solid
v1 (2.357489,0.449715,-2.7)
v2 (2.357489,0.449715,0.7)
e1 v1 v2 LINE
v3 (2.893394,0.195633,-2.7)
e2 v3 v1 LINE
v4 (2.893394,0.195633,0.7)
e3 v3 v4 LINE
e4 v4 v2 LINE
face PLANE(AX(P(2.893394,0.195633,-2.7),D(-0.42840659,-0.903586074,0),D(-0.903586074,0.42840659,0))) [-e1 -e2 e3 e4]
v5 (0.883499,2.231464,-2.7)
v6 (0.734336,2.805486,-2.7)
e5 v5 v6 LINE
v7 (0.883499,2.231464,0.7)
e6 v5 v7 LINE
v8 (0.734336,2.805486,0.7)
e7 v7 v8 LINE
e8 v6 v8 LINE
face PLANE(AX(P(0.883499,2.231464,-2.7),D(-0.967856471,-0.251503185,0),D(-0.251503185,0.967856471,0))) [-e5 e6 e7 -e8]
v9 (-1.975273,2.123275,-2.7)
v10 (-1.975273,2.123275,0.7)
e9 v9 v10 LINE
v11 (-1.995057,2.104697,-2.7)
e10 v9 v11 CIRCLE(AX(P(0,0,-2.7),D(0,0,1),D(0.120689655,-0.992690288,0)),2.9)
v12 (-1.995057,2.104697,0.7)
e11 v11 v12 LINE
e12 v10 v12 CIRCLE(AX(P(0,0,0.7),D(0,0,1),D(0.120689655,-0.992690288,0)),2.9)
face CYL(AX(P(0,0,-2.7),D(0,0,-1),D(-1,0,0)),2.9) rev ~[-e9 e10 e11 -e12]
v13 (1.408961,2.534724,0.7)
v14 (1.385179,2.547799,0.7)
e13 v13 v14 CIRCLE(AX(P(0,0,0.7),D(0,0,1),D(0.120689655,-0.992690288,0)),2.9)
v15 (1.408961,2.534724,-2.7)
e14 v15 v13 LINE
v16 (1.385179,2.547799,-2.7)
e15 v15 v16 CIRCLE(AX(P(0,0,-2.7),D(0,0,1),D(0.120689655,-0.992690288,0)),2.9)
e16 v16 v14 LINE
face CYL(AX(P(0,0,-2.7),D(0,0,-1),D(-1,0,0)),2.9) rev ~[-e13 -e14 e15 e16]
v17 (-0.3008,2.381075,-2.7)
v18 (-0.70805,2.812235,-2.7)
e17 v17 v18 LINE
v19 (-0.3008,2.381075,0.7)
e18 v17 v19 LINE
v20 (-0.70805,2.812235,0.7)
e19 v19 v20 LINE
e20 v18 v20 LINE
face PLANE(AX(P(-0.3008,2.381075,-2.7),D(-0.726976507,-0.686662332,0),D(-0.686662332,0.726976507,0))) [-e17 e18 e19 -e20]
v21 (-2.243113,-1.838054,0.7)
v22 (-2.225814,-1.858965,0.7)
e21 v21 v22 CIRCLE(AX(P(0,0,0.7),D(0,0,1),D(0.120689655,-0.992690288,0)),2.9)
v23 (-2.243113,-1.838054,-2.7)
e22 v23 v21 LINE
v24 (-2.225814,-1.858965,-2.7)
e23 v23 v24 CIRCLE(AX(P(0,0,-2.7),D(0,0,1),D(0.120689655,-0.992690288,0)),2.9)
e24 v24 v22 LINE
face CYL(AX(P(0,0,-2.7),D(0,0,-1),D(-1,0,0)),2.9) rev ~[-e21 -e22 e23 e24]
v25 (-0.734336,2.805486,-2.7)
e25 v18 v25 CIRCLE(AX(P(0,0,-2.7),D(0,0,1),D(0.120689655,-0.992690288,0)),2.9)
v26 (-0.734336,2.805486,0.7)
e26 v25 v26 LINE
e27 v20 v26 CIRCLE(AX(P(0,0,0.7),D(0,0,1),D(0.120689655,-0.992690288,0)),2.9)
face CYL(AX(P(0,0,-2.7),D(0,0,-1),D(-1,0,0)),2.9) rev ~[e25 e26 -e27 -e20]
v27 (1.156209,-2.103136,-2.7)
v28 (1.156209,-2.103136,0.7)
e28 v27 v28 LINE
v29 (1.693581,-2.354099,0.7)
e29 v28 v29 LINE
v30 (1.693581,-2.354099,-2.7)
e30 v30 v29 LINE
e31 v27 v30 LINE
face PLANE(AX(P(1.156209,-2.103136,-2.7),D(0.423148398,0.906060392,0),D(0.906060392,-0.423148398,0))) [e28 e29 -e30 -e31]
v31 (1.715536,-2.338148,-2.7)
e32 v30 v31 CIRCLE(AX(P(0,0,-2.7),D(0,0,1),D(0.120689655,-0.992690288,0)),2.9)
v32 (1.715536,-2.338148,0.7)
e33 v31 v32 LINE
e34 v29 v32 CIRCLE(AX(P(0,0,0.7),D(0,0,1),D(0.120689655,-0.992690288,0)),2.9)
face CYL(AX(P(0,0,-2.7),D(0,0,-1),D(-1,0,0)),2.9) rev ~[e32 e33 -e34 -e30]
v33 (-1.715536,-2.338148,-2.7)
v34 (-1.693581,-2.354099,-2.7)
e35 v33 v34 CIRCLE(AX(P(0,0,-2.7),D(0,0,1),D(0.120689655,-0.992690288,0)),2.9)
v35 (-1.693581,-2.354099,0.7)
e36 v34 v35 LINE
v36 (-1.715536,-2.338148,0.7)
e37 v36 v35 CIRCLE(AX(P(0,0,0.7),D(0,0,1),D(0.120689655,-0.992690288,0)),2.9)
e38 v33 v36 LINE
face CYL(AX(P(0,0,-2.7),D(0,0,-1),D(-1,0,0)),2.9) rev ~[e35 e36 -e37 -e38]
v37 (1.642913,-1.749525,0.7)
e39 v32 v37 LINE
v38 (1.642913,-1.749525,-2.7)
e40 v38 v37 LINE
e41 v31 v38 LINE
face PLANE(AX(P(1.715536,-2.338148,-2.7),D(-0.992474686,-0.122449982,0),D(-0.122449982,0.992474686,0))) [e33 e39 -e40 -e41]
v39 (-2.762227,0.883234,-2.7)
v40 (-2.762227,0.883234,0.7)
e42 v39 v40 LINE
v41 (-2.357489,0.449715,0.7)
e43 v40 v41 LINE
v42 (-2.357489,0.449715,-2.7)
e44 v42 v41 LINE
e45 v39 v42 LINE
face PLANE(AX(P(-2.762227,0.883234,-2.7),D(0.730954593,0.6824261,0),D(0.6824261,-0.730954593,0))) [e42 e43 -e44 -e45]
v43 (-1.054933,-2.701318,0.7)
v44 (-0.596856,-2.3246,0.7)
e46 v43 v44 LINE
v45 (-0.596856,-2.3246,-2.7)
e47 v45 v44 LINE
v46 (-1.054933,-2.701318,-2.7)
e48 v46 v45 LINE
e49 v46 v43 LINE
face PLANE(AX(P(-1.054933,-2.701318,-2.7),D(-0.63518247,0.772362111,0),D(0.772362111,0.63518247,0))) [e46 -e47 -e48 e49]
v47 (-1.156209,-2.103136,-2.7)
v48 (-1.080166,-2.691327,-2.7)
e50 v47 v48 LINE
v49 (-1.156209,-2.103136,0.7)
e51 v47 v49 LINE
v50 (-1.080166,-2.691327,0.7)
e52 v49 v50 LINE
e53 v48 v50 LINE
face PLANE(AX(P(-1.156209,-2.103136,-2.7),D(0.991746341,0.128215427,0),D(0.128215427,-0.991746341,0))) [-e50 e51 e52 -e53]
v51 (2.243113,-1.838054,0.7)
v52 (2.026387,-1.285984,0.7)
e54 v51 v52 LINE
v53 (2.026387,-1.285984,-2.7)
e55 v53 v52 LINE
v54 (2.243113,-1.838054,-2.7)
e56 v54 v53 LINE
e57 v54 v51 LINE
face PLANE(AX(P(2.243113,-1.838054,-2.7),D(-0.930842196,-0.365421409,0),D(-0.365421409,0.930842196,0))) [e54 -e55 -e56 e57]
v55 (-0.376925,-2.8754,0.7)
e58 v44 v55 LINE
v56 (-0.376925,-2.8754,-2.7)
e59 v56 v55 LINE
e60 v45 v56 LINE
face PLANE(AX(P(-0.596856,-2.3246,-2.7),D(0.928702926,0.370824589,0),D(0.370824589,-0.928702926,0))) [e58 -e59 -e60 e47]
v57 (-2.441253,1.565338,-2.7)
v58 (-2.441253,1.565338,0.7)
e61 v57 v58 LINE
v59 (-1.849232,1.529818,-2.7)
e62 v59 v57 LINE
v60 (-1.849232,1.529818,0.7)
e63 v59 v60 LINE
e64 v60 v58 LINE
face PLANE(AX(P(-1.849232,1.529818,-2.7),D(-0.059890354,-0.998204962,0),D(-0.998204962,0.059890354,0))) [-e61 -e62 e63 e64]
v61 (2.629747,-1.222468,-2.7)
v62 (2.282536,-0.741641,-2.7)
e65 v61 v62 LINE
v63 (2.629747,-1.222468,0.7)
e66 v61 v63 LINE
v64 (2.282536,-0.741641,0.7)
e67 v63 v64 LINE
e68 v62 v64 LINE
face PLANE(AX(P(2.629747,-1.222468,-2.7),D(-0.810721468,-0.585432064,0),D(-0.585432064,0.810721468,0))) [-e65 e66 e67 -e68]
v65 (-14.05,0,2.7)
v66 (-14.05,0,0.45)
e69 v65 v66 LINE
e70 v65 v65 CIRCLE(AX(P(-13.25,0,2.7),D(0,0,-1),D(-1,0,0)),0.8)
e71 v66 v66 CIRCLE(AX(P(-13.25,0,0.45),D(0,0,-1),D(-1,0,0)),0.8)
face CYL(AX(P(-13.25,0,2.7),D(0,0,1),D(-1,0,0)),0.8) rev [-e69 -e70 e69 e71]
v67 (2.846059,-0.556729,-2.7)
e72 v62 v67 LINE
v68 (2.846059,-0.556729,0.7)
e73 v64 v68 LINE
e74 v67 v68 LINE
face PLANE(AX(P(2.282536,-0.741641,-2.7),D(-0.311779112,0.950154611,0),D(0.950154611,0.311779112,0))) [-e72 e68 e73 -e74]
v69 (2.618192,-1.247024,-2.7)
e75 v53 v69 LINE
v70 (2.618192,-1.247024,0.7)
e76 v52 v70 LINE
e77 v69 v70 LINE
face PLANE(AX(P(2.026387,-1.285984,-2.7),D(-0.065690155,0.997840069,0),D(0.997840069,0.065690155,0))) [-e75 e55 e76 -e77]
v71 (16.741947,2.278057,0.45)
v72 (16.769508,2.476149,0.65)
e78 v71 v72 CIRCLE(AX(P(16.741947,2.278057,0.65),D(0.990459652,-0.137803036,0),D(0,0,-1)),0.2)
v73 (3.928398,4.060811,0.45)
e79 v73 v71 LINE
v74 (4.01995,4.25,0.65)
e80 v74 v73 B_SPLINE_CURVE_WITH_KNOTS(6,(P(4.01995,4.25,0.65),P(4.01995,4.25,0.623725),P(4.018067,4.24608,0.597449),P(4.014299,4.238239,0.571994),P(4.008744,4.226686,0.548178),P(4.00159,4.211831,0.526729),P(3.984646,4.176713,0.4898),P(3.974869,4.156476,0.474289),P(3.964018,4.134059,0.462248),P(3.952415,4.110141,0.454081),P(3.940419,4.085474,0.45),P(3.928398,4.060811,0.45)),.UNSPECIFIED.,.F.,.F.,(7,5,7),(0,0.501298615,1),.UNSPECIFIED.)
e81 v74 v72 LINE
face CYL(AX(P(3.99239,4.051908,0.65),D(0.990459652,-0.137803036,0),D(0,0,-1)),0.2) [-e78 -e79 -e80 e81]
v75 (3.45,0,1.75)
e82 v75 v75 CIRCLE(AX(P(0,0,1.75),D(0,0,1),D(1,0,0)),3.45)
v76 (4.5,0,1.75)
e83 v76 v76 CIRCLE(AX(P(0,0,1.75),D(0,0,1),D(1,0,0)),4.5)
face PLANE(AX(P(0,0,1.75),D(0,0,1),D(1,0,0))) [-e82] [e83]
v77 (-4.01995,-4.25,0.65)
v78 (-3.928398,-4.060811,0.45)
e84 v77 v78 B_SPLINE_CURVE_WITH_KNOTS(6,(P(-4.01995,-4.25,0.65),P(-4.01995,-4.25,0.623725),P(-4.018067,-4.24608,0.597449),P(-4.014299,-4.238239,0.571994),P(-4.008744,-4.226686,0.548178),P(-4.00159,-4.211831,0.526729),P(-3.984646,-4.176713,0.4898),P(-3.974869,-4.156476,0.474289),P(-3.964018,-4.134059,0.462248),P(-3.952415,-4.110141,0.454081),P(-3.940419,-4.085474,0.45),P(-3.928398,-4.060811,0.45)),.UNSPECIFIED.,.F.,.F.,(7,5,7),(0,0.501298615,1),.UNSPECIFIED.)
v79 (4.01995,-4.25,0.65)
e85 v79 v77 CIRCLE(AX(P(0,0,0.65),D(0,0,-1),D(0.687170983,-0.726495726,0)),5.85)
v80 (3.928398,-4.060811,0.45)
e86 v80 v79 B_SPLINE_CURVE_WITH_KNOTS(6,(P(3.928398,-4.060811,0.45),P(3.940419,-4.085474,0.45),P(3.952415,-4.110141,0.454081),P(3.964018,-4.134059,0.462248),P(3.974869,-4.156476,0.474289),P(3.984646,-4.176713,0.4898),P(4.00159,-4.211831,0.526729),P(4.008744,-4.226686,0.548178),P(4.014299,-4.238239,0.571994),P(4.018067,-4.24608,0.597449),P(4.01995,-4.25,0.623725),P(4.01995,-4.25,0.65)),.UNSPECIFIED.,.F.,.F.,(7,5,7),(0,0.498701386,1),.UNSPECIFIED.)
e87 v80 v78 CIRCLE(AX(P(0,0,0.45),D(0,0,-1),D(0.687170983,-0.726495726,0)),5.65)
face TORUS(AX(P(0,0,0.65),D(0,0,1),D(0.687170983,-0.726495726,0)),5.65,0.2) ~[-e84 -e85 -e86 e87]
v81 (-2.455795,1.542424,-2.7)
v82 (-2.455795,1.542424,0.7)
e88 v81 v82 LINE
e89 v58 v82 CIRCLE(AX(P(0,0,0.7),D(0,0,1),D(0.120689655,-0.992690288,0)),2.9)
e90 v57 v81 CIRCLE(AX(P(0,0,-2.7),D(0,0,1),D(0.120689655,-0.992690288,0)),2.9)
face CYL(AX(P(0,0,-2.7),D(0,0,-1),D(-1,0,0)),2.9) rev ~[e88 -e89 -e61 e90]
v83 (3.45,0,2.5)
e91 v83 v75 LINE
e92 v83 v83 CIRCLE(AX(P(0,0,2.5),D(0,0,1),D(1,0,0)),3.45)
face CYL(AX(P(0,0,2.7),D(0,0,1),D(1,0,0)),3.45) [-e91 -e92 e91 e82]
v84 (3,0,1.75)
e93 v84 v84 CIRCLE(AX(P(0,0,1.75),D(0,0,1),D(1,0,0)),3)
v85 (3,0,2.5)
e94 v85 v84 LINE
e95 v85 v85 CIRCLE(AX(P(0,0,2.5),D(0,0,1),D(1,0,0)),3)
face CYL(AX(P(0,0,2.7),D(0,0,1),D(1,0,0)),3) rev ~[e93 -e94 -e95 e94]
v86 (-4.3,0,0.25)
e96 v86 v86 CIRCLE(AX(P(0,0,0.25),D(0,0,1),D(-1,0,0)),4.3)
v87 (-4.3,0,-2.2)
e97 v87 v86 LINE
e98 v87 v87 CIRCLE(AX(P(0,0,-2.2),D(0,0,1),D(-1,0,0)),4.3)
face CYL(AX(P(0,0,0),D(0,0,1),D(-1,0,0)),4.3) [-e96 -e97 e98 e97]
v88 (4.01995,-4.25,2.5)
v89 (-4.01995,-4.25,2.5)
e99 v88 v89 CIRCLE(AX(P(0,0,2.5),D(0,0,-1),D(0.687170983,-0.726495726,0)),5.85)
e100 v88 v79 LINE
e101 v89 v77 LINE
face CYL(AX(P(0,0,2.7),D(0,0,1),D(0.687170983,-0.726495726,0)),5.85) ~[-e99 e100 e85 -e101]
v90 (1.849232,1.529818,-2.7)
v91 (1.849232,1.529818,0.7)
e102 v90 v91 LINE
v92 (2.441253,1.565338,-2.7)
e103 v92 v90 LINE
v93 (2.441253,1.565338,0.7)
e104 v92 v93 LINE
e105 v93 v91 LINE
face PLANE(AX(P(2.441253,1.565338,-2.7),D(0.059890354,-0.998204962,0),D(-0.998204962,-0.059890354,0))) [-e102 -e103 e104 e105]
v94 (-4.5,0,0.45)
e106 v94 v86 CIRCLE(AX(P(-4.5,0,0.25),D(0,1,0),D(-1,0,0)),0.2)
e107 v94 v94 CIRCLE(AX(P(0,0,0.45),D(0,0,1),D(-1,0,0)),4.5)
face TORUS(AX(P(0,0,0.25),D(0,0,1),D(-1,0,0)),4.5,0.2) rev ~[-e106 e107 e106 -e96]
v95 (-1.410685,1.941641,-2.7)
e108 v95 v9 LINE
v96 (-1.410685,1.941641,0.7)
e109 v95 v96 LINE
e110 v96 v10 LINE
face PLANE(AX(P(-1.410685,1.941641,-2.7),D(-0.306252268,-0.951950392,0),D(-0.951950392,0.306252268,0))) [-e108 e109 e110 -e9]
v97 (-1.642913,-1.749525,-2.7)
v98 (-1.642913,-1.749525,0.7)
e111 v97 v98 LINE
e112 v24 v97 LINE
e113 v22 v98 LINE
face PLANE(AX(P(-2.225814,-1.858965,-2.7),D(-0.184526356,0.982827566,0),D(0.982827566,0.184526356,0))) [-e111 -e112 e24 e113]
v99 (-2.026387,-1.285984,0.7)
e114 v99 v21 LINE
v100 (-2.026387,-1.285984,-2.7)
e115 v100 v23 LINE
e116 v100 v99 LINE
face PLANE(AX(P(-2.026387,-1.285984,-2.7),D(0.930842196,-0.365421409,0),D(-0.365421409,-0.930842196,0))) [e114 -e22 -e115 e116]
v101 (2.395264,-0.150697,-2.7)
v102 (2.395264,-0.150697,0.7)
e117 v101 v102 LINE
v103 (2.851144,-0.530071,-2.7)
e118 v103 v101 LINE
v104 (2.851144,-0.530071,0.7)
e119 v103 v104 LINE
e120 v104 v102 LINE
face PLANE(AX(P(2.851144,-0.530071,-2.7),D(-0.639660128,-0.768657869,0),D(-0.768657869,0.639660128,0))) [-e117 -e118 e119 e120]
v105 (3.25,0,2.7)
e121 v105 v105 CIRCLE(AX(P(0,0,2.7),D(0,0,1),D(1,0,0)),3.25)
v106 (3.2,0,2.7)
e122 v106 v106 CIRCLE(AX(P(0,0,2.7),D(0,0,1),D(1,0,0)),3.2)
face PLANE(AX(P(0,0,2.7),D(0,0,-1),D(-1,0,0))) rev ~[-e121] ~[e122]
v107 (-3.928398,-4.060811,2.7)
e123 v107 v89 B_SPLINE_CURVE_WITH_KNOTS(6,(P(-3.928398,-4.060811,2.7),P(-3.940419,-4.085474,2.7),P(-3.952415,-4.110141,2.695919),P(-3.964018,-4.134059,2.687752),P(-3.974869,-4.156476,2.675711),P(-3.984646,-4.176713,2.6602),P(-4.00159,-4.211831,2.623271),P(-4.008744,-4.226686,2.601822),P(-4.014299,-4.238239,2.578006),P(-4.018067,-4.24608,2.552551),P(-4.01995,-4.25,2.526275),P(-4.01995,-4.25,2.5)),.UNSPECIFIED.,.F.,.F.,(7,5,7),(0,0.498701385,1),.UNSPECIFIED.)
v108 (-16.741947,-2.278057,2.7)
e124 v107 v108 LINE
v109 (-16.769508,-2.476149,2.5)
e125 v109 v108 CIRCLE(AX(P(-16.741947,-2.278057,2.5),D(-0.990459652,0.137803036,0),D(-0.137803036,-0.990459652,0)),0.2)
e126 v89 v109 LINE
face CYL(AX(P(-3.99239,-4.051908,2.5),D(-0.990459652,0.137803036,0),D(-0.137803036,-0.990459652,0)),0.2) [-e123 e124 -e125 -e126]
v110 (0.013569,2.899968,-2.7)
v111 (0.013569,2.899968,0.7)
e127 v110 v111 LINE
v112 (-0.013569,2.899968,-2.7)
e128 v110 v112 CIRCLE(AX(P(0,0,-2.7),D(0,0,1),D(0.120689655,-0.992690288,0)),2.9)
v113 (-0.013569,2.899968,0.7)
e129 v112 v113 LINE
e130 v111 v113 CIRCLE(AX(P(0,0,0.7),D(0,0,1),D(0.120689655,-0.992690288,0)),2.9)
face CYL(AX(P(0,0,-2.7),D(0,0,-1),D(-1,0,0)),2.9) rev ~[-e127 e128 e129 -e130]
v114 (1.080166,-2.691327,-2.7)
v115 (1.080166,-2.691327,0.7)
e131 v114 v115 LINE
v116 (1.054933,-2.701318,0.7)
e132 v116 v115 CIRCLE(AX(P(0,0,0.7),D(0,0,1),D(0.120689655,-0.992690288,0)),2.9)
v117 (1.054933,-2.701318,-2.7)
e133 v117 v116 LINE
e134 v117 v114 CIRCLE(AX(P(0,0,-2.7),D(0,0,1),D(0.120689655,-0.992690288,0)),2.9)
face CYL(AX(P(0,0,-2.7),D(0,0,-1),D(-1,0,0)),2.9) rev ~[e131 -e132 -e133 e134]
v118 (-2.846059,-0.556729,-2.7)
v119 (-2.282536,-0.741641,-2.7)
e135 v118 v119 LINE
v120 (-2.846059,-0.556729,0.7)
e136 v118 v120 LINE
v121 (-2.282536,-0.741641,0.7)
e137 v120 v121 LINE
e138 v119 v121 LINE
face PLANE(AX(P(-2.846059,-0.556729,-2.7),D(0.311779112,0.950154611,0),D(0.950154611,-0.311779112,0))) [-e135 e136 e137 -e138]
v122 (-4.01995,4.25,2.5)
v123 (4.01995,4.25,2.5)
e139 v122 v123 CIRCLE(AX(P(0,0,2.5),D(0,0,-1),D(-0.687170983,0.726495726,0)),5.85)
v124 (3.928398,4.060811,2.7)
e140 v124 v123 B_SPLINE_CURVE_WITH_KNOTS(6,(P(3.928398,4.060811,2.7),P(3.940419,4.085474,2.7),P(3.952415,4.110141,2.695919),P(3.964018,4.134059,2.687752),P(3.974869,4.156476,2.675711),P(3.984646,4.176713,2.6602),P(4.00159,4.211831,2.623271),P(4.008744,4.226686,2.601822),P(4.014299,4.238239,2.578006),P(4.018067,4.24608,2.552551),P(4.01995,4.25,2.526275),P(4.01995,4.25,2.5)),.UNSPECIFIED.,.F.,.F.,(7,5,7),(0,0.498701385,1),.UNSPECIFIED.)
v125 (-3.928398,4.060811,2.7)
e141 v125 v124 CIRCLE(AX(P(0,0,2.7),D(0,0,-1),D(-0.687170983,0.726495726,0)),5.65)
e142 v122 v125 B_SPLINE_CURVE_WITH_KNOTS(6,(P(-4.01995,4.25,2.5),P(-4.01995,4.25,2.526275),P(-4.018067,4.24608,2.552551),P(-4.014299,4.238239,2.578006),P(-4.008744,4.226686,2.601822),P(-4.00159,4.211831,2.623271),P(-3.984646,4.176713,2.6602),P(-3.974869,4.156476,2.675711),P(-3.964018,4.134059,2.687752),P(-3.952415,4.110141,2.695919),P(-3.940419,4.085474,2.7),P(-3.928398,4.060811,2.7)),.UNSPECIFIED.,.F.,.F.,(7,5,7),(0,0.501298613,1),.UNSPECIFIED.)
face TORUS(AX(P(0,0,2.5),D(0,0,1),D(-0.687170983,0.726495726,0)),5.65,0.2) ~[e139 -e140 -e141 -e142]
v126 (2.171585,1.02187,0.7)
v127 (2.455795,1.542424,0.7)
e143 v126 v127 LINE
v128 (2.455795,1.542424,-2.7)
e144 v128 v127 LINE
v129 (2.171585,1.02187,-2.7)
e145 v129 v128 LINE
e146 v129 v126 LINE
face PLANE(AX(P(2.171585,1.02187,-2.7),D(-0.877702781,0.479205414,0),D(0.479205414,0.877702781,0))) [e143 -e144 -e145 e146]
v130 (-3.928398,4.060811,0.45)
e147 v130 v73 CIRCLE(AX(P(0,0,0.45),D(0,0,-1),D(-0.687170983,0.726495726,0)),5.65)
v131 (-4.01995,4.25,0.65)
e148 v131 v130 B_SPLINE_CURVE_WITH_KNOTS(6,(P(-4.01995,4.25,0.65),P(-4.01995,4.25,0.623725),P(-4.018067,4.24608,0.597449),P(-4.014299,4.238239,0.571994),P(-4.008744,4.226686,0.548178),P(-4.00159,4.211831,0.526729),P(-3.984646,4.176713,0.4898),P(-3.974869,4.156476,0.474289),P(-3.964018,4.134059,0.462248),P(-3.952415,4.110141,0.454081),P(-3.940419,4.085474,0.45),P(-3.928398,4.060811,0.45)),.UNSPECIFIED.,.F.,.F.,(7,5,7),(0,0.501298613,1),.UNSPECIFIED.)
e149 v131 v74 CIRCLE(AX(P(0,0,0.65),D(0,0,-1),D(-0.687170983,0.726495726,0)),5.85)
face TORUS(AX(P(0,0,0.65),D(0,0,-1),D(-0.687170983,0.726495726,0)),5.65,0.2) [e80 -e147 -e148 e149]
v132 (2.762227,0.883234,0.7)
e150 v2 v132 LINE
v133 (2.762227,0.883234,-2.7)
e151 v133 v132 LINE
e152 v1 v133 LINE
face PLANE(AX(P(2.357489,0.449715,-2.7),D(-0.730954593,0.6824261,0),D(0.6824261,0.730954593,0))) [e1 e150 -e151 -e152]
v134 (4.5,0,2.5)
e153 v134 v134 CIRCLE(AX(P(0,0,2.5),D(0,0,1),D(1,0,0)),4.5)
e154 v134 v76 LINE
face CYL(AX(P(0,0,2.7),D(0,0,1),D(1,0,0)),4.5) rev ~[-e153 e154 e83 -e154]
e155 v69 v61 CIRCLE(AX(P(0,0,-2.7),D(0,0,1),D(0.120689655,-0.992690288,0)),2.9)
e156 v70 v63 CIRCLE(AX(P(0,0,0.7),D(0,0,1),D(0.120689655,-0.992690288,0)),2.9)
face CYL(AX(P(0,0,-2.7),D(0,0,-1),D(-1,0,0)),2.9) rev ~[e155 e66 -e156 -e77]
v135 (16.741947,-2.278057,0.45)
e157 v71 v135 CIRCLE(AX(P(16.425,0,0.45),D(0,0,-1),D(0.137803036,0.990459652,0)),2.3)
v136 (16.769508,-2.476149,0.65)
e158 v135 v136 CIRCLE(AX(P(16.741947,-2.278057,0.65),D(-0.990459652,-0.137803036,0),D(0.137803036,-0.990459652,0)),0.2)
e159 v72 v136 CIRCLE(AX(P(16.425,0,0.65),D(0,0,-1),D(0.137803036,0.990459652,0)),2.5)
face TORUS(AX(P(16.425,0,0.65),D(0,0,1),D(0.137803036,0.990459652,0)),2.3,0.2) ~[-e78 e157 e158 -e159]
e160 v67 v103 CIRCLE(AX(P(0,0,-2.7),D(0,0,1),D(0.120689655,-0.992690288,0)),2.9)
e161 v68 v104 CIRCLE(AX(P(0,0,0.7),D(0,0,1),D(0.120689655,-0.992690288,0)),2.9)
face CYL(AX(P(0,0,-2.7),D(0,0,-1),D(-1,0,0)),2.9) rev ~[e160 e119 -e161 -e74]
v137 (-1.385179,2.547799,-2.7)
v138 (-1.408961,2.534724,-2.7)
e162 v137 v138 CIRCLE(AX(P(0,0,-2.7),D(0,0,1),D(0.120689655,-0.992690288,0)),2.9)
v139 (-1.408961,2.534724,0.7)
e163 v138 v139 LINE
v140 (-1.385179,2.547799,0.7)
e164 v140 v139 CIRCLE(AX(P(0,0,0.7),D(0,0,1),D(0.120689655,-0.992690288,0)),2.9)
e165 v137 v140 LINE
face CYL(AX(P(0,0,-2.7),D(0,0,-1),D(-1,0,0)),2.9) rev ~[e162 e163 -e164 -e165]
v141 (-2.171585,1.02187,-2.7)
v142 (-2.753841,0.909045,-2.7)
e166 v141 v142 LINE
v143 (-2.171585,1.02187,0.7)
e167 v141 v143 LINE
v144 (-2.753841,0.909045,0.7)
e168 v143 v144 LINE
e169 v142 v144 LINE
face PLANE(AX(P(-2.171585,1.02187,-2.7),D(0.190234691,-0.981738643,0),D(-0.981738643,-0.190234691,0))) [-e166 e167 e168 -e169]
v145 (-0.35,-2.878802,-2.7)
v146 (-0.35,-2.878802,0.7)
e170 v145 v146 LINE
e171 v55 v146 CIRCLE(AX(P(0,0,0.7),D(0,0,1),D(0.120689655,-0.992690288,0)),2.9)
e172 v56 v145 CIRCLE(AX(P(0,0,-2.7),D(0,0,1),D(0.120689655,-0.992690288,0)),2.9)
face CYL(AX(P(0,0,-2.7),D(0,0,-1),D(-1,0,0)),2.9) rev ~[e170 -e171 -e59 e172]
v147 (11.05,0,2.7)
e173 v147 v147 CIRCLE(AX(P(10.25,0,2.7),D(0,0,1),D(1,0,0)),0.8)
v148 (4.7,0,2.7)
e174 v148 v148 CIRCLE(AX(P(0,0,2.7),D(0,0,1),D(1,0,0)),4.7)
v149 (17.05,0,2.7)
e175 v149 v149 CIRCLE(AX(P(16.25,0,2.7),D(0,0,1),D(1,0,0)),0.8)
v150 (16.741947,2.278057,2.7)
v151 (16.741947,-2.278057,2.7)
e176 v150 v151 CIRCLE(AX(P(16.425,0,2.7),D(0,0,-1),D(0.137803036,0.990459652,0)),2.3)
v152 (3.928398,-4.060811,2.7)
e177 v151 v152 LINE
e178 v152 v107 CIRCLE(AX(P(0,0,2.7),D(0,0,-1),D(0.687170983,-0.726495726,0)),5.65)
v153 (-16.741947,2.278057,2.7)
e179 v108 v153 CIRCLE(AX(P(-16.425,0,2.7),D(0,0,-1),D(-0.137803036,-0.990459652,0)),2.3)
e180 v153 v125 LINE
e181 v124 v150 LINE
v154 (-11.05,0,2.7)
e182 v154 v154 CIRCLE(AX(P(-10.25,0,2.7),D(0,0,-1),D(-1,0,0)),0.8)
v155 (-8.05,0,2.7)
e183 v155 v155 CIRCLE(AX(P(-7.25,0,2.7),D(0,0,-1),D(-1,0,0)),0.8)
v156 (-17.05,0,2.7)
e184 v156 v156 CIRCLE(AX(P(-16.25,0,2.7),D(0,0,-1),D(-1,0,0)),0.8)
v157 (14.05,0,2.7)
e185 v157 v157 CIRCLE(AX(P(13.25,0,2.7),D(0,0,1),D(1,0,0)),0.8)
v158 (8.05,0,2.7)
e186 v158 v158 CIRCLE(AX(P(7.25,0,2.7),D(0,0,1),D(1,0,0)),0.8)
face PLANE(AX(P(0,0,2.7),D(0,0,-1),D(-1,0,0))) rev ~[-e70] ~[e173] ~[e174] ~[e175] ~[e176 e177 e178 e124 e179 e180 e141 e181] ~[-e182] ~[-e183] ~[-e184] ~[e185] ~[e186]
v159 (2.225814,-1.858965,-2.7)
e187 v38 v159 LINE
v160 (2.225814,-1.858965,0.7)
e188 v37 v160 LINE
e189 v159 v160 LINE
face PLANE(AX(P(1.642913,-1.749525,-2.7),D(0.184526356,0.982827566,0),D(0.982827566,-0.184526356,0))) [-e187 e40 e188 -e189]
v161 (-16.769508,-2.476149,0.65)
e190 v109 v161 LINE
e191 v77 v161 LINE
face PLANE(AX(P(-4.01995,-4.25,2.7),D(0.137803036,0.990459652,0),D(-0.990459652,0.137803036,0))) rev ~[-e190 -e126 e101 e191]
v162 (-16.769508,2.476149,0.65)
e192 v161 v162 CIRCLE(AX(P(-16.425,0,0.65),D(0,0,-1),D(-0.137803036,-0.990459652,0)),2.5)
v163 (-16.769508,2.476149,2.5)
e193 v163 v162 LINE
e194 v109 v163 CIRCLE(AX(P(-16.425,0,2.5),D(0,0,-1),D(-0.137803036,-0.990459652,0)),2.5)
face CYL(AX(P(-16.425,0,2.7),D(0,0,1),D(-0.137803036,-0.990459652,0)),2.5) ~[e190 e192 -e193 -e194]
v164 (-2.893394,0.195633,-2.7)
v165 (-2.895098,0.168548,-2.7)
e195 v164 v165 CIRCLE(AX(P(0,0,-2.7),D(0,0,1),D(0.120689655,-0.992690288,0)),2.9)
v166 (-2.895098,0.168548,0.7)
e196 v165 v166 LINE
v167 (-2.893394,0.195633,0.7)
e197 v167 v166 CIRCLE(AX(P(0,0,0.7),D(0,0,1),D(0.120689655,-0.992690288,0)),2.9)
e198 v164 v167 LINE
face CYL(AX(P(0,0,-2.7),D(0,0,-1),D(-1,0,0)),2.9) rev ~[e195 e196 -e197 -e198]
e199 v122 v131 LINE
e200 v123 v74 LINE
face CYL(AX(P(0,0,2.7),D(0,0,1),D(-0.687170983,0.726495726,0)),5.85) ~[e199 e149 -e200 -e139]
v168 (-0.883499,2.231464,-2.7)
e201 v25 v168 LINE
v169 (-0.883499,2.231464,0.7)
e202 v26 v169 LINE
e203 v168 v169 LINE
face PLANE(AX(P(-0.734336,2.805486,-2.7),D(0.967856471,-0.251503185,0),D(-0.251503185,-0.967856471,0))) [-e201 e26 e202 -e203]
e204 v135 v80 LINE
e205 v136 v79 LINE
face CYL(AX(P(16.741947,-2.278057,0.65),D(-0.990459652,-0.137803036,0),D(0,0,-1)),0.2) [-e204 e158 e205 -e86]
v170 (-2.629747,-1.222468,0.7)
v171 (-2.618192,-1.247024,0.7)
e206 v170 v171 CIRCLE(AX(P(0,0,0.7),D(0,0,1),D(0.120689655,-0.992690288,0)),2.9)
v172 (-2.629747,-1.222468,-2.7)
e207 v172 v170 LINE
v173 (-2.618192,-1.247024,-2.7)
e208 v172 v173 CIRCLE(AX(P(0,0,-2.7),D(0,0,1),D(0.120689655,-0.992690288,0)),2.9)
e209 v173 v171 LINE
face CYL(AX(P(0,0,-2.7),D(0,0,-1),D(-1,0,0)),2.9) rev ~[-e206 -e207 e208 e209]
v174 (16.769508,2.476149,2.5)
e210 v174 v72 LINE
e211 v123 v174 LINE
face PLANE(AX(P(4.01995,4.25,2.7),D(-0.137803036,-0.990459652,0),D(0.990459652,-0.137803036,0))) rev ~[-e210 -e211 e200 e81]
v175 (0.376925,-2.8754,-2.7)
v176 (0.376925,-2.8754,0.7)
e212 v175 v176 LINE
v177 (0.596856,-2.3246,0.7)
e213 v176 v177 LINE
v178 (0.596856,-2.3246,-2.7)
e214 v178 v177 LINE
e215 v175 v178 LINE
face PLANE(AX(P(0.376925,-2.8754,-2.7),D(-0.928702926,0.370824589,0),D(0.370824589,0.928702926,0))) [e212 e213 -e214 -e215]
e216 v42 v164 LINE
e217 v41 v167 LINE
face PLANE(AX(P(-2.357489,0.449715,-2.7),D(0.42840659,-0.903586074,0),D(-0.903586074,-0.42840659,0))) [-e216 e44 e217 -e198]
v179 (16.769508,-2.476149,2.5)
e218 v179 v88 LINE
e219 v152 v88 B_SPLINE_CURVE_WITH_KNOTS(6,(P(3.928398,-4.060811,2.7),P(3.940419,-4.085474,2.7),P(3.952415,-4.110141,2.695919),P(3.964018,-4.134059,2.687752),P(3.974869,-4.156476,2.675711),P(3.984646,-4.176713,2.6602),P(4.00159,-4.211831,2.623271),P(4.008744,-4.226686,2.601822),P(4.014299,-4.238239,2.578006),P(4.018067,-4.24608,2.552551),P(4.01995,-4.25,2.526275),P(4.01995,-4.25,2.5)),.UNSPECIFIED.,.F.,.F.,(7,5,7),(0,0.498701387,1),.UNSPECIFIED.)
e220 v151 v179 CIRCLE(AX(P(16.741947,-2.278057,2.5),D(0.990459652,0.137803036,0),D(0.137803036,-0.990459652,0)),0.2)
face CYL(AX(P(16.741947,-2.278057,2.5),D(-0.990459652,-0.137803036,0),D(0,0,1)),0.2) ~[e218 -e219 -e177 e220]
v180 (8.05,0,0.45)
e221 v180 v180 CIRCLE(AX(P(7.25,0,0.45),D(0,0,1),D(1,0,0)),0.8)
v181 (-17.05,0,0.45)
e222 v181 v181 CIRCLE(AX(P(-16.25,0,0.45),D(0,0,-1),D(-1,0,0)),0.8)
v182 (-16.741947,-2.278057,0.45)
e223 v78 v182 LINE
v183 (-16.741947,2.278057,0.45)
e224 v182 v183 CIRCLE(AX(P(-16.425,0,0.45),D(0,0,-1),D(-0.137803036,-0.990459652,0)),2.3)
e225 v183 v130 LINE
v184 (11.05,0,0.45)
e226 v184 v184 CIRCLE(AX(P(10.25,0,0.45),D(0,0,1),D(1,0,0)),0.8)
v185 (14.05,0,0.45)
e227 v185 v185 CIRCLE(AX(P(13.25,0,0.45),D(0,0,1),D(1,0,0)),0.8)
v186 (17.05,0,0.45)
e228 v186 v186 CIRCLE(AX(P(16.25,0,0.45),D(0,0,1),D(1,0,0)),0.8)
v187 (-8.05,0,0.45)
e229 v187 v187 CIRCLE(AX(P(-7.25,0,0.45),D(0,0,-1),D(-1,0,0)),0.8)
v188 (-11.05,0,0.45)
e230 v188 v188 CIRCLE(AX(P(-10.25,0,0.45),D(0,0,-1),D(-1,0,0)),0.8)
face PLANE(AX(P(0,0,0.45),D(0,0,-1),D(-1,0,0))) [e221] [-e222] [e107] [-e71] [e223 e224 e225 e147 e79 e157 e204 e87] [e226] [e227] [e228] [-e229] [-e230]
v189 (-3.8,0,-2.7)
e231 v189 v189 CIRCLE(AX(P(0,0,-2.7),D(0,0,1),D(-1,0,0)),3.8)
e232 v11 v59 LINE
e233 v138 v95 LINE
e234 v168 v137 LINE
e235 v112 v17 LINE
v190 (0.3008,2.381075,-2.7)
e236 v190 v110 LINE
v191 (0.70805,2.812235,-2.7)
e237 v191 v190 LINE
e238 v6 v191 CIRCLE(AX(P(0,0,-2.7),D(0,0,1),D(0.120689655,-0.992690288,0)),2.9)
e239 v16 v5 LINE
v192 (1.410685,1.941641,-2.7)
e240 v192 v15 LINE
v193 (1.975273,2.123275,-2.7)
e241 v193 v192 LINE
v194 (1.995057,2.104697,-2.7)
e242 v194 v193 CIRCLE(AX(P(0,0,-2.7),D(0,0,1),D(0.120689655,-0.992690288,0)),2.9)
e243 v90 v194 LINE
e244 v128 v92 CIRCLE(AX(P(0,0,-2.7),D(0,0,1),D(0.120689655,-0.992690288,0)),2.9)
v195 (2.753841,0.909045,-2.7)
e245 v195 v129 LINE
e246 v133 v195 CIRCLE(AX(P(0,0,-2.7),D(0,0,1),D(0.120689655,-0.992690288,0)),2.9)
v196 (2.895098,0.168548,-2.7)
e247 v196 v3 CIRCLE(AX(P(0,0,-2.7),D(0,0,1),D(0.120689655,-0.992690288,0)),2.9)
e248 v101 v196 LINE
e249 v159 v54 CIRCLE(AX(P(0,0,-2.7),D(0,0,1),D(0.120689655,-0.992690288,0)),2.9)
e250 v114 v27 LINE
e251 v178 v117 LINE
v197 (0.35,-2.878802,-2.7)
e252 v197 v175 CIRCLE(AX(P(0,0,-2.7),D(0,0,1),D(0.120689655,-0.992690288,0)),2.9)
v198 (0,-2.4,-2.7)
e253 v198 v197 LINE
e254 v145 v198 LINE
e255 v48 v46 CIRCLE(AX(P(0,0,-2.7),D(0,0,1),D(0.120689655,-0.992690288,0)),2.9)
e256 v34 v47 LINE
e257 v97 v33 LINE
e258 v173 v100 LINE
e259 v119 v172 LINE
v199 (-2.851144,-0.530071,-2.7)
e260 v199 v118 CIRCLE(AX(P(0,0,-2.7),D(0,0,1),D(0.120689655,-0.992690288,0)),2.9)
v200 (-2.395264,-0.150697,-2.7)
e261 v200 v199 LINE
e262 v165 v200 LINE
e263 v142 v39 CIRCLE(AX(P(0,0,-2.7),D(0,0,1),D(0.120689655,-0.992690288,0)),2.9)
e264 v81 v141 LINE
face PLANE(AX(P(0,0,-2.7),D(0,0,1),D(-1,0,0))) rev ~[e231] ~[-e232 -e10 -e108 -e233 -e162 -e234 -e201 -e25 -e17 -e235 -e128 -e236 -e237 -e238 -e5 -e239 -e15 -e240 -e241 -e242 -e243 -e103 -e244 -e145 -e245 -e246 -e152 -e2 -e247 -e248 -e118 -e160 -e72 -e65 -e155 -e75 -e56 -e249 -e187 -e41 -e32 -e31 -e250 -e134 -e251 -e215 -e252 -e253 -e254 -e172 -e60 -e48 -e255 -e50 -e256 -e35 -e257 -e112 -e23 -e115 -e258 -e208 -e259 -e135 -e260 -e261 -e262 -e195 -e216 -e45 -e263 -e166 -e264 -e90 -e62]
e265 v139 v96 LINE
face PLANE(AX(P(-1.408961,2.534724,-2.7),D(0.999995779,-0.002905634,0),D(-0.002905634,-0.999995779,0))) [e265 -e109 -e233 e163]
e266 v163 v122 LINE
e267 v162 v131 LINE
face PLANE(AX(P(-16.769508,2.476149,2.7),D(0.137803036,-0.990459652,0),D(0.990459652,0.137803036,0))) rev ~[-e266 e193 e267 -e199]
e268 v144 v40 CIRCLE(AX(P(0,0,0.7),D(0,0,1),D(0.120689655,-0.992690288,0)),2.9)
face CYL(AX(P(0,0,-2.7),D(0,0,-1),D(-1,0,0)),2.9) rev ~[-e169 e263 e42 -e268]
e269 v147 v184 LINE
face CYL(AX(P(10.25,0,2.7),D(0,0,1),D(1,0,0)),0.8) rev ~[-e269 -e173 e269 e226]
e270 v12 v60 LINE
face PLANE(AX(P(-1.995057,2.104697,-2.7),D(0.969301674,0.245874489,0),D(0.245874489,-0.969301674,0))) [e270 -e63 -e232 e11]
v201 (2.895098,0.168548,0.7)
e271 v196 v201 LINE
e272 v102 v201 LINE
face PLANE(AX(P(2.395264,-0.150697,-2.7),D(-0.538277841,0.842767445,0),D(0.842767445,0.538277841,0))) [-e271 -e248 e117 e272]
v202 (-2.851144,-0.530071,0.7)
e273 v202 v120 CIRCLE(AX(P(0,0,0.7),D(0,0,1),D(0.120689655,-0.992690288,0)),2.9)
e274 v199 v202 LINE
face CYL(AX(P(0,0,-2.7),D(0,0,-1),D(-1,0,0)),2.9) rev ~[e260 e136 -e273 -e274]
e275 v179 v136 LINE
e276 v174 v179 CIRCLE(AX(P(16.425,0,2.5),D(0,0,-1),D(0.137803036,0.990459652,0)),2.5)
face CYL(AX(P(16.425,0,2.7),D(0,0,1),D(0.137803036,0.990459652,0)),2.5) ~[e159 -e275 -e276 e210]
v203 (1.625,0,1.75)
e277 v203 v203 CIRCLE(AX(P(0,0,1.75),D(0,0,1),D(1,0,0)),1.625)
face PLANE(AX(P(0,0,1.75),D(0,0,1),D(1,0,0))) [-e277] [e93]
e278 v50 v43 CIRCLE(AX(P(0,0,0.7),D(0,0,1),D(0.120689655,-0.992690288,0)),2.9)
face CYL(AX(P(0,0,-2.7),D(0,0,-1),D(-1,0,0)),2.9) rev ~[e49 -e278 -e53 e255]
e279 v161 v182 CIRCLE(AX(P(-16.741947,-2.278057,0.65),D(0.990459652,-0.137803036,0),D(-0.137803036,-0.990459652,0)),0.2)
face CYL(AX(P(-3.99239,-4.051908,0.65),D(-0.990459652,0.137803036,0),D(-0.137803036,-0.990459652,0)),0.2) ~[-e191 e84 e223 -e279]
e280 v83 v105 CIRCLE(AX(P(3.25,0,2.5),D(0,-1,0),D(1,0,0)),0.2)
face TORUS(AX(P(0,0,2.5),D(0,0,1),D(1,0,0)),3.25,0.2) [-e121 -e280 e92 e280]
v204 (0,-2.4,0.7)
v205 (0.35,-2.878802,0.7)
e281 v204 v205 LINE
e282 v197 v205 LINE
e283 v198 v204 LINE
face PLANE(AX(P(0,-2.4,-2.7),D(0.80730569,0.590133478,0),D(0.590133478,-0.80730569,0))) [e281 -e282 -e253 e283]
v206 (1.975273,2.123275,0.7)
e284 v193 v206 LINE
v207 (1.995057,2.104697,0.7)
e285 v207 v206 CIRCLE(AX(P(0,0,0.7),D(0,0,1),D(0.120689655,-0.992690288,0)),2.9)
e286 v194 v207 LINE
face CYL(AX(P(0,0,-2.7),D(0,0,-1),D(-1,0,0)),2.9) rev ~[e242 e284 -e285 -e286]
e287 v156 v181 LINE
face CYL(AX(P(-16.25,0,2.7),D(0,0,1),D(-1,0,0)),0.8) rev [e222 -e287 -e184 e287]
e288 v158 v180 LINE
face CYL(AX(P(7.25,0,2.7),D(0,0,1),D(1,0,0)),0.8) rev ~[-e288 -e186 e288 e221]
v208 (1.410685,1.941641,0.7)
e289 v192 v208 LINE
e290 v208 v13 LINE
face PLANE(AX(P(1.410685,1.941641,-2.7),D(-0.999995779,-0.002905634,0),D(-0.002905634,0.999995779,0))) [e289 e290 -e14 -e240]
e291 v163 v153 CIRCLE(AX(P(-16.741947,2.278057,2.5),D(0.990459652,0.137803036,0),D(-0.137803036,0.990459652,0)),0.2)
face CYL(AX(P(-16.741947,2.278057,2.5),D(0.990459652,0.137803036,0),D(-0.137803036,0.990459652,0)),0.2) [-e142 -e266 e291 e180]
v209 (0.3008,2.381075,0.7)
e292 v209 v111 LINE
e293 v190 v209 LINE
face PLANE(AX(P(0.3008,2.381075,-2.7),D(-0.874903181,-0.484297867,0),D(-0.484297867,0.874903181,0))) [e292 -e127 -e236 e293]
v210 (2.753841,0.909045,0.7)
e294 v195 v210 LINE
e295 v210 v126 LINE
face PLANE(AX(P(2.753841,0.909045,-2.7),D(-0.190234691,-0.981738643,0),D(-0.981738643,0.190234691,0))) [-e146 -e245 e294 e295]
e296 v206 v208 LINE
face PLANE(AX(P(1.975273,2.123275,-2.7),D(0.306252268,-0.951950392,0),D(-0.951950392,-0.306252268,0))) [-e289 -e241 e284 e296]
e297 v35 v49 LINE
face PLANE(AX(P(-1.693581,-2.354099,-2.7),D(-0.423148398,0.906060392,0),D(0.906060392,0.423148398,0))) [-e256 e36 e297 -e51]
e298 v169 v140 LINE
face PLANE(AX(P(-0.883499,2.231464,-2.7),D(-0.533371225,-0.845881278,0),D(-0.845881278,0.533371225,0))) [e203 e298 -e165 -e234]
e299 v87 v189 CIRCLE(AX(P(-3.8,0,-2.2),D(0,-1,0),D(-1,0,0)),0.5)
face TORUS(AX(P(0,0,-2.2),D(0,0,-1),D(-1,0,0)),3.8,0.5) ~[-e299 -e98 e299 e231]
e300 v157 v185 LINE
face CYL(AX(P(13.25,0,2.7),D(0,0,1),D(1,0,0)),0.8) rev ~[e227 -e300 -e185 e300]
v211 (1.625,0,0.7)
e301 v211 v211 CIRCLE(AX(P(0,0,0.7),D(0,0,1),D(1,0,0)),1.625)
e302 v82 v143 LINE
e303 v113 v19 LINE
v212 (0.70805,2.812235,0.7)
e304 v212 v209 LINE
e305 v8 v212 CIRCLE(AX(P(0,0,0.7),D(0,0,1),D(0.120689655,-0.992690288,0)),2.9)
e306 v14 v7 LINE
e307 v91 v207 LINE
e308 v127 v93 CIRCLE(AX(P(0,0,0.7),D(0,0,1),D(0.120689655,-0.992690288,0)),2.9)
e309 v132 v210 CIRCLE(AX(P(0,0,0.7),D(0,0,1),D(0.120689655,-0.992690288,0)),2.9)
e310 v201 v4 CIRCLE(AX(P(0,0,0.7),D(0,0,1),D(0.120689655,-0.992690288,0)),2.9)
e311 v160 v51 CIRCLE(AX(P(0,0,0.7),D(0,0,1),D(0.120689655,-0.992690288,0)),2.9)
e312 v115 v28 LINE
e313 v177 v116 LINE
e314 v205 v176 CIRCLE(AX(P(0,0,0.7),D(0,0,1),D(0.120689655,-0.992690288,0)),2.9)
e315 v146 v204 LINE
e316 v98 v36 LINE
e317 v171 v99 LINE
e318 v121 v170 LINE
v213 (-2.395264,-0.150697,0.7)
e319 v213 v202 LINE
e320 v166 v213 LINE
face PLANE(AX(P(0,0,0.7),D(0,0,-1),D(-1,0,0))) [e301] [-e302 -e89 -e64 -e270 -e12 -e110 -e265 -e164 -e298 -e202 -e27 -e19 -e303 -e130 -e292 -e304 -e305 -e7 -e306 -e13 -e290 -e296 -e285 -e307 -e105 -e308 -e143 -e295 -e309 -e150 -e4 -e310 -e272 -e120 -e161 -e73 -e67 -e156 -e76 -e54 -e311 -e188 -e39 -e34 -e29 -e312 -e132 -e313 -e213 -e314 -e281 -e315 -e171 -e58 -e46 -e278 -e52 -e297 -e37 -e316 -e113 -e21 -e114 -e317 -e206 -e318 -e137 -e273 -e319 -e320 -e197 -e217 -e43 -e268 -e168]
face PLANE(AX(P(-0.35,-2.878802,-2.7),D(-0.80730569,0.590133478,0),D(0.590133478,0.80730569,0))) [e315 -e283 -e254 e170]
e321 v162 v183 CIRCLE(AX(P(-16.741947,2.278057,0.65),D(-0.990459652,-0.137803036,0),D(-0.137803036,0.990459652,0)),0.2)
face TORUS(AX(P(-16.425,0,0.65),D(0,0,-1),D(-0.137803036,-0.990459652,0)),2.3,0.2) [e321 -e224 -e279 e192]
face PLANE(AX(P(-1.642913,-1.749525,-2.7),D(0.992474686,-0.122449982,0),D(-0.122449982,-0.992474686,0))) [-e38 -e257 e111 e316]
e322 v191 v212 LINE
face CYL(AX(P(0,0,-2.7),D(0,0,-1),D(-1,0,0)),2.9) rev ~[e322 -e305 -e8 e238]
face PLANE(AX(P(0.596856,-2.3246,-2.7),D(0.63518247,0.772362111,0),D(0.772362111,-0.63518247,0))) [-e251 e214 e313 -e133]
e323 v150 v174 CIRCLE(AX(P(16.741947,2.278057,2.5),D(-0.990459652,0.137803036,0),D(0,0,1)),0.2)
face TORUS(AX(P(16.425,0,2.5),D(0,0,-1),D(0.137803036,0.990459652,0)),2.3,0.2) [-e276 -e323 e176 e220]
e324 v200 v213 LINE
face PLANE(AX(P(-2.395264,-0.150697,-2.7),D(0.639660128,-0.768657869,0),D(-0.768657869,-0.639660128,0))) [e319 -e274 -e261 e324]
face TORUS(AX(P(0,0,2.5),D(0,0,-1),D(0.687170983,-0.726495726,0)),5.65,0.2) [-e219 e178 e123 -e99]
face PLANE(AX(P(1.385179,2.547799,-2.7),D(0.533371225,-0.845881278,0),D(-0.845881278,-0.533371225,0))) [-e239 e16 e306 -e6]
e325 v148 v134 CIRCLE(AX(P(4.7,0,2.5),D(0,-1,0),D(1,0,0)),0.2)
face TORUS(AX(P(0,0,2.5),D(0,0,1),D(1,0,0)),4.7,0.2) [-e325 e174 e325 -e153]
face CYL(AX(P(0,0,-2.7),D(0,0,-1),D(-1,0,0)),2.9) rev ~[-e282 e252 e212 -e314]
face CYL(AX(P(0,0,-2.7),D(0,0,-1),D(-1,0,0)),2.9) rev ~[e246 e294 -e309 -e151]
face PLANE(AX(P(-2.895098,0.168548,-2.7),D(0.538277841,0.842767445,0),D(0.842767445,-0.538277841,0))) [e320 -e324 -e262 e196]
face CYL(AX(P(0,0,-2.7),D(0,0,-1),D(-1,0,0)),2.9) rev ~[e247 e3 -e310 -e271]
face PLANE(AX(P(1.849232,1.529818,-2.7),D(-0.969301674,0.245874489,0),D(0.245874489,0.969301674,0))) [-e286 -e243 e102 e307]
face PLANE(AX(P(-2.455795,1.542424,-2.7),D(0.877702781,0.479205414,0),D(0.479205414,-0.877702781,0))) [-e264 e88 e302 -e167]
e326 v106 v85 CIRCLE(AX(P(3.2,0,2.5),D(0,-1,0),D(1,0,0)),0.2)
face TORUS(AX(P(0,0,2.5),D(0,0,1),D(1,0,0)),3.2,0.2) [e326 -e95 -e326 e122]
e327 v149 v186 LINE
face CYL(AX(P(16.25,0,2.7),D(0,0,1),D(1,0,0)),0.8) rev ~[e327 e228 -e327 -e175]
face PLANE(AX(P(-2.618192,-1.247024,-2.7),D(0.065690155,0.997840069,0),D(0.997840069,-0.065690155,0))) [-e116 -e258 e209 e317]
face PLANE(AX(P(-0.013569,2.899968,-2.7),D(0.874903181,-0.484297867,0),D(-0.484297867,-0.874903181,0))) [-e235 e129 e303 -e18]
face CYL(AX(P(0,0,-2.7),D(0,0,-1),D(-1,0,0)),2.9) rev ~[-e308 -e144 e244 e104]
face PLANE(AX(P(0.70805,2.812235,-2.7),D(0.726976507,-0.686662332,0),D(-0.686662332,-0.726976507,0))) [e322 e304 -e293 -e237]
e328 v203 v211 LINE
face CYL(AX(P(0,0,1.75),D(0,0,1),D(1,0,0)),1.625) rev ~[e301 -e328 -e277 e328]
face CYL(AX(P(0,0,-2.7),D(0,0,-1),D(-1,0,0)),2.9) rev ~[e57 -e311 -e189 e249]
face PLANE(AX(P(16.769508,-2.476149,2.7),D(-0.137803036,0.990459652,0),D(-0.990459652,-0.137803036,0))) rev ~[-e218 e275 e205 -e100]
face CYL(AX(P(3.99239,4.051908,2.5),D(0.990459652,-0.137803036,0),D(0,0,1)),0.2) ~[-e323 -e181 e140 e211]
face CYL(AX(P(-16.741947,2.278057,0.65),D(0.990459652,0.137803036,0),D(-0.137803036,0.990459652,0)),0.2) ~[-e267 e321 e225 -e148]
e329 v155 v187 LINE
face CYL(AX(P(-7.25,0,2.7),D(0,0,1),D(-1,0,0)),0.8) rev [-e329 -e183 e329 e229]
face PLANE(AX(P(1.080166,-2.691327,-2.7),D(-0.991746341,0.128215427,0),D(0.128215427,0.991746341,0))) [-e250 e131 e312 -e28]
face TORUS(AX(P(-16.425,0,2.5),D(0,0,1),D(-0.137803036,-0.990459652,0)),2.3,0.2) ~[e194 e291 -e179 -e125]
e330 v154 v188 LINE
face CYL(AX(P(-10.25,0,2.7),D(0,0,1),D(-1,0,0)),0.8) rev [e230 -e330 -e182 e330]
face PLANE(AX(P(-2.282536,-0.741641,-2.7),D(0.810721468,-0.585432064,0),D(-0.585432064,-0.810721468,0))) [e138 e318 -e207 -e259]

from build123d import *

# Parameters (mm, degrees)
SKETCH_1_R               = 4.3
EXTRUDE_1_DEPTH          = 2.7
EXTRUDE_2_DEPTH          = 2.25
SKETCH_3_R               = 4.5
SKETCH_3_R_2             = 3.45
SKETCH_3_R_3             = 3
CUT_EXTRUDE_1_DEPTH      = 0.95
FILLET_1_R               = 0.2
FILLET_2_R               = 0.5
SKETCH_4_R               = 1.625
CUT_EXTRUDE_2_DEPTH      = 21.302232164
SKETCH_5_R               = 2.9
CUT_EXTRUDE_3_DEPTH      = 3.4
EXTRUDE_3_DEPTH          = 3.4
PATTERN_CIRCULAR_1_COUNT = 25
SKETCH_9_R               = 0.8
CUT_EXTRUDE_7_DEPTH      = 2.25


with BuildPart() as part:
    # Эскиз1 → Бобышка-Вытянуть1 (new, symmetric)
    with BuildSketch(Plane.XY):
        with Locations(Location((0, 0, 0), (0, 0, 180))):
            Circle(SKETCH_1_R)
    extrude(amount=EXTRUDE_1_DEPTH, both=True)

    # Эскиз2 → Бобышка-Вытянуть2 (add)
    with BuildSketch(Plane.XY.offset(2.7)):
        with BuildLine():
            Line((-16.769507591, 2.476149131), (-4.019950248, 4.25))
            ThreePointArc((-4.019950248, 4.25), (0, 5.85), (4.019950248, 4.25))
            Line((4.019950248, 4.25), (16.769507591, 2.476149131))
            ThreePointArc((16.769507591, 2.476149131), (18.925, 0), (16.769507591, -2.476149131))
            Line((16.769507591, -2.476149131), (4.019950248, -4.25))
            ThreePointArc((4.019950248, -4.25), (0, -5.85), (-4.019950248, -4.25))
            Line((-4.019950248, -4.25), (-16.769507591, -2.476149131))
            ThreePointArc((-16.769507591, -2.476149131), (-18.925, 0), (-16.769507591, 2.476149131))
        make_face()
    extrude(amount=-EXTRUDE_2_DEPTH)

    # Эскиз3 → Вырез-Вытянуть1 (cut)
    with BuildSketch(Plane.XY.offset(2.7)):
        Circle(SKETCH_3_R)
        Circle(SKETCH_3_R_2, mode=Mode.SUBTRACT)
        Circle(SKETCH_3_R_3)
    extrude(amount=-CUT_EXTRUDE_1_DEPTH, mode=Mode.SUBTRACT)

    # Скругление1
    fillet_1_edges = [part.edges().sort_by_distance(p)[0] for p in [
        (0, -5.85, 2.7),
        (10.39472892, -3.363074566, 2.7),
        (18.925, 0, 2.7),
        (10.39472892, 3.363074566, 2.7),
        (0, 5.85, 2.7),
        (-10.39472892, 3.363074566, 2.7),
        (-3.45, 0, 2.7),
        (-4.5, 0, 2.7),
        (-3, 0, 2.7),
        (4.3, 0, 0.45),
        (-18.925, 0, 0.45),
        (-10.39472892, 3.363074566, 0.45),
        (0, 5.85, 0.45),
        (10.39472892, 3.363074566, 0.45),
        (18.925, 0, 0.45),
        (10.39472892, -3.363074566, 0.45),
        (0, -5.85, 0.45),
        (-10.39472892, -3.363074566, 0.45),
        (-18.925, 0, 2.7),
        (-10.39472892, -3.363074566, 2.7),
    ]]
    fillet(fillet_1_edges, radius=FILLET_1_R)

    # Скругление2
    fillet_2_edges = [part.edges().sort_by_distance(p)[0] for p in [
        (4.3, 0, -2.7),
    ]]
    fillet(fillet_2_edges, radius=FILLET_2_R)

    # Эскиз4 → Вырез-Вытянуть2 (cut, through all)
    with BuildSketch(Plane.XY.offset(1.75)):
        Circle(SKETCH_4_R)
    extrude(amount=-CUT_EXTRUDE_2_DEPTH, mode=Mode.SUBTRACT)

    # Эскиз5 → Вырез-Вытянуть3 (cut)
    with BuildSketch(Plane(origin=(0, 0, -2.7), x_dir=(-1, 0, 0), z_dir=(0, 0, -1))):
        Circle(SKETCH_5_R)
    extrude(amount=-CUT_EXTRUDE_3_DEPTH, mode=Mode.SUBTRACT)

    # Эскиз8 → Бобышка-Вытянуть3 (add)
    with BuildSketch(Plane(origin=(0, 0, -2.7), x_dir=(-1, 0, 0), z_dir=(0, 0, -1))):
        with BuildLine():
            Line((0.35, -2.878801834), (0, -2.4))
            Line((0, -2.4), (-0.35, -2.878801834))
            ThreePointArc((-0.35, -2.878801834), (0, -2.9), (0.35, -2.878801834))
        make_face()
    extrude_3 = extrude(amount=-EXTRUDE_3_DEPTH)

    # Круговой массив1: Бобышка-Вытянуть3 ×25 about axis
    pattern_circular_1_axis = Axis((0, 0, 0), (0, 0, 1))
    for i in range(1, PATTERN_CIRCULAR_1_COUNT):
        add(extrude_3.rotate(pattern_circular_1_axis, i * 360 / PATTERN_CIRCULAR_1_COUNT))

    # Эскиз9 → Вырез-Вытянуть7 (cut)
    with BuildSketch(Plane.XY.offset(2.7)):
        with Locations((7.25, 0)):
            Circle(SKETCH_9_R)
        with Locations((10.25, 0)):
            Circle(SKETCH_9_R)
        with Locations((13.25, 0)):
            Circle(SKETCH_9_R)
        with Locations((16.25, 0)):
            Circle(SKETCH_9_R)
    cut_extrude_7 = extrude(amount=-CUT_EXTRUDE_7_DEPTH, mode=Mode.SUBTRACT)

    # Зеркальное отражение1: Вырез-Вытянуть7 across plane
    add(cut_extrude_7.mirror(Plane(origin=(0, 0, 0), x_dir=(0, 0, 1), z_dir=(1, 0, 0))), mode=Mode.SUBTRACT)


solid = part.part
